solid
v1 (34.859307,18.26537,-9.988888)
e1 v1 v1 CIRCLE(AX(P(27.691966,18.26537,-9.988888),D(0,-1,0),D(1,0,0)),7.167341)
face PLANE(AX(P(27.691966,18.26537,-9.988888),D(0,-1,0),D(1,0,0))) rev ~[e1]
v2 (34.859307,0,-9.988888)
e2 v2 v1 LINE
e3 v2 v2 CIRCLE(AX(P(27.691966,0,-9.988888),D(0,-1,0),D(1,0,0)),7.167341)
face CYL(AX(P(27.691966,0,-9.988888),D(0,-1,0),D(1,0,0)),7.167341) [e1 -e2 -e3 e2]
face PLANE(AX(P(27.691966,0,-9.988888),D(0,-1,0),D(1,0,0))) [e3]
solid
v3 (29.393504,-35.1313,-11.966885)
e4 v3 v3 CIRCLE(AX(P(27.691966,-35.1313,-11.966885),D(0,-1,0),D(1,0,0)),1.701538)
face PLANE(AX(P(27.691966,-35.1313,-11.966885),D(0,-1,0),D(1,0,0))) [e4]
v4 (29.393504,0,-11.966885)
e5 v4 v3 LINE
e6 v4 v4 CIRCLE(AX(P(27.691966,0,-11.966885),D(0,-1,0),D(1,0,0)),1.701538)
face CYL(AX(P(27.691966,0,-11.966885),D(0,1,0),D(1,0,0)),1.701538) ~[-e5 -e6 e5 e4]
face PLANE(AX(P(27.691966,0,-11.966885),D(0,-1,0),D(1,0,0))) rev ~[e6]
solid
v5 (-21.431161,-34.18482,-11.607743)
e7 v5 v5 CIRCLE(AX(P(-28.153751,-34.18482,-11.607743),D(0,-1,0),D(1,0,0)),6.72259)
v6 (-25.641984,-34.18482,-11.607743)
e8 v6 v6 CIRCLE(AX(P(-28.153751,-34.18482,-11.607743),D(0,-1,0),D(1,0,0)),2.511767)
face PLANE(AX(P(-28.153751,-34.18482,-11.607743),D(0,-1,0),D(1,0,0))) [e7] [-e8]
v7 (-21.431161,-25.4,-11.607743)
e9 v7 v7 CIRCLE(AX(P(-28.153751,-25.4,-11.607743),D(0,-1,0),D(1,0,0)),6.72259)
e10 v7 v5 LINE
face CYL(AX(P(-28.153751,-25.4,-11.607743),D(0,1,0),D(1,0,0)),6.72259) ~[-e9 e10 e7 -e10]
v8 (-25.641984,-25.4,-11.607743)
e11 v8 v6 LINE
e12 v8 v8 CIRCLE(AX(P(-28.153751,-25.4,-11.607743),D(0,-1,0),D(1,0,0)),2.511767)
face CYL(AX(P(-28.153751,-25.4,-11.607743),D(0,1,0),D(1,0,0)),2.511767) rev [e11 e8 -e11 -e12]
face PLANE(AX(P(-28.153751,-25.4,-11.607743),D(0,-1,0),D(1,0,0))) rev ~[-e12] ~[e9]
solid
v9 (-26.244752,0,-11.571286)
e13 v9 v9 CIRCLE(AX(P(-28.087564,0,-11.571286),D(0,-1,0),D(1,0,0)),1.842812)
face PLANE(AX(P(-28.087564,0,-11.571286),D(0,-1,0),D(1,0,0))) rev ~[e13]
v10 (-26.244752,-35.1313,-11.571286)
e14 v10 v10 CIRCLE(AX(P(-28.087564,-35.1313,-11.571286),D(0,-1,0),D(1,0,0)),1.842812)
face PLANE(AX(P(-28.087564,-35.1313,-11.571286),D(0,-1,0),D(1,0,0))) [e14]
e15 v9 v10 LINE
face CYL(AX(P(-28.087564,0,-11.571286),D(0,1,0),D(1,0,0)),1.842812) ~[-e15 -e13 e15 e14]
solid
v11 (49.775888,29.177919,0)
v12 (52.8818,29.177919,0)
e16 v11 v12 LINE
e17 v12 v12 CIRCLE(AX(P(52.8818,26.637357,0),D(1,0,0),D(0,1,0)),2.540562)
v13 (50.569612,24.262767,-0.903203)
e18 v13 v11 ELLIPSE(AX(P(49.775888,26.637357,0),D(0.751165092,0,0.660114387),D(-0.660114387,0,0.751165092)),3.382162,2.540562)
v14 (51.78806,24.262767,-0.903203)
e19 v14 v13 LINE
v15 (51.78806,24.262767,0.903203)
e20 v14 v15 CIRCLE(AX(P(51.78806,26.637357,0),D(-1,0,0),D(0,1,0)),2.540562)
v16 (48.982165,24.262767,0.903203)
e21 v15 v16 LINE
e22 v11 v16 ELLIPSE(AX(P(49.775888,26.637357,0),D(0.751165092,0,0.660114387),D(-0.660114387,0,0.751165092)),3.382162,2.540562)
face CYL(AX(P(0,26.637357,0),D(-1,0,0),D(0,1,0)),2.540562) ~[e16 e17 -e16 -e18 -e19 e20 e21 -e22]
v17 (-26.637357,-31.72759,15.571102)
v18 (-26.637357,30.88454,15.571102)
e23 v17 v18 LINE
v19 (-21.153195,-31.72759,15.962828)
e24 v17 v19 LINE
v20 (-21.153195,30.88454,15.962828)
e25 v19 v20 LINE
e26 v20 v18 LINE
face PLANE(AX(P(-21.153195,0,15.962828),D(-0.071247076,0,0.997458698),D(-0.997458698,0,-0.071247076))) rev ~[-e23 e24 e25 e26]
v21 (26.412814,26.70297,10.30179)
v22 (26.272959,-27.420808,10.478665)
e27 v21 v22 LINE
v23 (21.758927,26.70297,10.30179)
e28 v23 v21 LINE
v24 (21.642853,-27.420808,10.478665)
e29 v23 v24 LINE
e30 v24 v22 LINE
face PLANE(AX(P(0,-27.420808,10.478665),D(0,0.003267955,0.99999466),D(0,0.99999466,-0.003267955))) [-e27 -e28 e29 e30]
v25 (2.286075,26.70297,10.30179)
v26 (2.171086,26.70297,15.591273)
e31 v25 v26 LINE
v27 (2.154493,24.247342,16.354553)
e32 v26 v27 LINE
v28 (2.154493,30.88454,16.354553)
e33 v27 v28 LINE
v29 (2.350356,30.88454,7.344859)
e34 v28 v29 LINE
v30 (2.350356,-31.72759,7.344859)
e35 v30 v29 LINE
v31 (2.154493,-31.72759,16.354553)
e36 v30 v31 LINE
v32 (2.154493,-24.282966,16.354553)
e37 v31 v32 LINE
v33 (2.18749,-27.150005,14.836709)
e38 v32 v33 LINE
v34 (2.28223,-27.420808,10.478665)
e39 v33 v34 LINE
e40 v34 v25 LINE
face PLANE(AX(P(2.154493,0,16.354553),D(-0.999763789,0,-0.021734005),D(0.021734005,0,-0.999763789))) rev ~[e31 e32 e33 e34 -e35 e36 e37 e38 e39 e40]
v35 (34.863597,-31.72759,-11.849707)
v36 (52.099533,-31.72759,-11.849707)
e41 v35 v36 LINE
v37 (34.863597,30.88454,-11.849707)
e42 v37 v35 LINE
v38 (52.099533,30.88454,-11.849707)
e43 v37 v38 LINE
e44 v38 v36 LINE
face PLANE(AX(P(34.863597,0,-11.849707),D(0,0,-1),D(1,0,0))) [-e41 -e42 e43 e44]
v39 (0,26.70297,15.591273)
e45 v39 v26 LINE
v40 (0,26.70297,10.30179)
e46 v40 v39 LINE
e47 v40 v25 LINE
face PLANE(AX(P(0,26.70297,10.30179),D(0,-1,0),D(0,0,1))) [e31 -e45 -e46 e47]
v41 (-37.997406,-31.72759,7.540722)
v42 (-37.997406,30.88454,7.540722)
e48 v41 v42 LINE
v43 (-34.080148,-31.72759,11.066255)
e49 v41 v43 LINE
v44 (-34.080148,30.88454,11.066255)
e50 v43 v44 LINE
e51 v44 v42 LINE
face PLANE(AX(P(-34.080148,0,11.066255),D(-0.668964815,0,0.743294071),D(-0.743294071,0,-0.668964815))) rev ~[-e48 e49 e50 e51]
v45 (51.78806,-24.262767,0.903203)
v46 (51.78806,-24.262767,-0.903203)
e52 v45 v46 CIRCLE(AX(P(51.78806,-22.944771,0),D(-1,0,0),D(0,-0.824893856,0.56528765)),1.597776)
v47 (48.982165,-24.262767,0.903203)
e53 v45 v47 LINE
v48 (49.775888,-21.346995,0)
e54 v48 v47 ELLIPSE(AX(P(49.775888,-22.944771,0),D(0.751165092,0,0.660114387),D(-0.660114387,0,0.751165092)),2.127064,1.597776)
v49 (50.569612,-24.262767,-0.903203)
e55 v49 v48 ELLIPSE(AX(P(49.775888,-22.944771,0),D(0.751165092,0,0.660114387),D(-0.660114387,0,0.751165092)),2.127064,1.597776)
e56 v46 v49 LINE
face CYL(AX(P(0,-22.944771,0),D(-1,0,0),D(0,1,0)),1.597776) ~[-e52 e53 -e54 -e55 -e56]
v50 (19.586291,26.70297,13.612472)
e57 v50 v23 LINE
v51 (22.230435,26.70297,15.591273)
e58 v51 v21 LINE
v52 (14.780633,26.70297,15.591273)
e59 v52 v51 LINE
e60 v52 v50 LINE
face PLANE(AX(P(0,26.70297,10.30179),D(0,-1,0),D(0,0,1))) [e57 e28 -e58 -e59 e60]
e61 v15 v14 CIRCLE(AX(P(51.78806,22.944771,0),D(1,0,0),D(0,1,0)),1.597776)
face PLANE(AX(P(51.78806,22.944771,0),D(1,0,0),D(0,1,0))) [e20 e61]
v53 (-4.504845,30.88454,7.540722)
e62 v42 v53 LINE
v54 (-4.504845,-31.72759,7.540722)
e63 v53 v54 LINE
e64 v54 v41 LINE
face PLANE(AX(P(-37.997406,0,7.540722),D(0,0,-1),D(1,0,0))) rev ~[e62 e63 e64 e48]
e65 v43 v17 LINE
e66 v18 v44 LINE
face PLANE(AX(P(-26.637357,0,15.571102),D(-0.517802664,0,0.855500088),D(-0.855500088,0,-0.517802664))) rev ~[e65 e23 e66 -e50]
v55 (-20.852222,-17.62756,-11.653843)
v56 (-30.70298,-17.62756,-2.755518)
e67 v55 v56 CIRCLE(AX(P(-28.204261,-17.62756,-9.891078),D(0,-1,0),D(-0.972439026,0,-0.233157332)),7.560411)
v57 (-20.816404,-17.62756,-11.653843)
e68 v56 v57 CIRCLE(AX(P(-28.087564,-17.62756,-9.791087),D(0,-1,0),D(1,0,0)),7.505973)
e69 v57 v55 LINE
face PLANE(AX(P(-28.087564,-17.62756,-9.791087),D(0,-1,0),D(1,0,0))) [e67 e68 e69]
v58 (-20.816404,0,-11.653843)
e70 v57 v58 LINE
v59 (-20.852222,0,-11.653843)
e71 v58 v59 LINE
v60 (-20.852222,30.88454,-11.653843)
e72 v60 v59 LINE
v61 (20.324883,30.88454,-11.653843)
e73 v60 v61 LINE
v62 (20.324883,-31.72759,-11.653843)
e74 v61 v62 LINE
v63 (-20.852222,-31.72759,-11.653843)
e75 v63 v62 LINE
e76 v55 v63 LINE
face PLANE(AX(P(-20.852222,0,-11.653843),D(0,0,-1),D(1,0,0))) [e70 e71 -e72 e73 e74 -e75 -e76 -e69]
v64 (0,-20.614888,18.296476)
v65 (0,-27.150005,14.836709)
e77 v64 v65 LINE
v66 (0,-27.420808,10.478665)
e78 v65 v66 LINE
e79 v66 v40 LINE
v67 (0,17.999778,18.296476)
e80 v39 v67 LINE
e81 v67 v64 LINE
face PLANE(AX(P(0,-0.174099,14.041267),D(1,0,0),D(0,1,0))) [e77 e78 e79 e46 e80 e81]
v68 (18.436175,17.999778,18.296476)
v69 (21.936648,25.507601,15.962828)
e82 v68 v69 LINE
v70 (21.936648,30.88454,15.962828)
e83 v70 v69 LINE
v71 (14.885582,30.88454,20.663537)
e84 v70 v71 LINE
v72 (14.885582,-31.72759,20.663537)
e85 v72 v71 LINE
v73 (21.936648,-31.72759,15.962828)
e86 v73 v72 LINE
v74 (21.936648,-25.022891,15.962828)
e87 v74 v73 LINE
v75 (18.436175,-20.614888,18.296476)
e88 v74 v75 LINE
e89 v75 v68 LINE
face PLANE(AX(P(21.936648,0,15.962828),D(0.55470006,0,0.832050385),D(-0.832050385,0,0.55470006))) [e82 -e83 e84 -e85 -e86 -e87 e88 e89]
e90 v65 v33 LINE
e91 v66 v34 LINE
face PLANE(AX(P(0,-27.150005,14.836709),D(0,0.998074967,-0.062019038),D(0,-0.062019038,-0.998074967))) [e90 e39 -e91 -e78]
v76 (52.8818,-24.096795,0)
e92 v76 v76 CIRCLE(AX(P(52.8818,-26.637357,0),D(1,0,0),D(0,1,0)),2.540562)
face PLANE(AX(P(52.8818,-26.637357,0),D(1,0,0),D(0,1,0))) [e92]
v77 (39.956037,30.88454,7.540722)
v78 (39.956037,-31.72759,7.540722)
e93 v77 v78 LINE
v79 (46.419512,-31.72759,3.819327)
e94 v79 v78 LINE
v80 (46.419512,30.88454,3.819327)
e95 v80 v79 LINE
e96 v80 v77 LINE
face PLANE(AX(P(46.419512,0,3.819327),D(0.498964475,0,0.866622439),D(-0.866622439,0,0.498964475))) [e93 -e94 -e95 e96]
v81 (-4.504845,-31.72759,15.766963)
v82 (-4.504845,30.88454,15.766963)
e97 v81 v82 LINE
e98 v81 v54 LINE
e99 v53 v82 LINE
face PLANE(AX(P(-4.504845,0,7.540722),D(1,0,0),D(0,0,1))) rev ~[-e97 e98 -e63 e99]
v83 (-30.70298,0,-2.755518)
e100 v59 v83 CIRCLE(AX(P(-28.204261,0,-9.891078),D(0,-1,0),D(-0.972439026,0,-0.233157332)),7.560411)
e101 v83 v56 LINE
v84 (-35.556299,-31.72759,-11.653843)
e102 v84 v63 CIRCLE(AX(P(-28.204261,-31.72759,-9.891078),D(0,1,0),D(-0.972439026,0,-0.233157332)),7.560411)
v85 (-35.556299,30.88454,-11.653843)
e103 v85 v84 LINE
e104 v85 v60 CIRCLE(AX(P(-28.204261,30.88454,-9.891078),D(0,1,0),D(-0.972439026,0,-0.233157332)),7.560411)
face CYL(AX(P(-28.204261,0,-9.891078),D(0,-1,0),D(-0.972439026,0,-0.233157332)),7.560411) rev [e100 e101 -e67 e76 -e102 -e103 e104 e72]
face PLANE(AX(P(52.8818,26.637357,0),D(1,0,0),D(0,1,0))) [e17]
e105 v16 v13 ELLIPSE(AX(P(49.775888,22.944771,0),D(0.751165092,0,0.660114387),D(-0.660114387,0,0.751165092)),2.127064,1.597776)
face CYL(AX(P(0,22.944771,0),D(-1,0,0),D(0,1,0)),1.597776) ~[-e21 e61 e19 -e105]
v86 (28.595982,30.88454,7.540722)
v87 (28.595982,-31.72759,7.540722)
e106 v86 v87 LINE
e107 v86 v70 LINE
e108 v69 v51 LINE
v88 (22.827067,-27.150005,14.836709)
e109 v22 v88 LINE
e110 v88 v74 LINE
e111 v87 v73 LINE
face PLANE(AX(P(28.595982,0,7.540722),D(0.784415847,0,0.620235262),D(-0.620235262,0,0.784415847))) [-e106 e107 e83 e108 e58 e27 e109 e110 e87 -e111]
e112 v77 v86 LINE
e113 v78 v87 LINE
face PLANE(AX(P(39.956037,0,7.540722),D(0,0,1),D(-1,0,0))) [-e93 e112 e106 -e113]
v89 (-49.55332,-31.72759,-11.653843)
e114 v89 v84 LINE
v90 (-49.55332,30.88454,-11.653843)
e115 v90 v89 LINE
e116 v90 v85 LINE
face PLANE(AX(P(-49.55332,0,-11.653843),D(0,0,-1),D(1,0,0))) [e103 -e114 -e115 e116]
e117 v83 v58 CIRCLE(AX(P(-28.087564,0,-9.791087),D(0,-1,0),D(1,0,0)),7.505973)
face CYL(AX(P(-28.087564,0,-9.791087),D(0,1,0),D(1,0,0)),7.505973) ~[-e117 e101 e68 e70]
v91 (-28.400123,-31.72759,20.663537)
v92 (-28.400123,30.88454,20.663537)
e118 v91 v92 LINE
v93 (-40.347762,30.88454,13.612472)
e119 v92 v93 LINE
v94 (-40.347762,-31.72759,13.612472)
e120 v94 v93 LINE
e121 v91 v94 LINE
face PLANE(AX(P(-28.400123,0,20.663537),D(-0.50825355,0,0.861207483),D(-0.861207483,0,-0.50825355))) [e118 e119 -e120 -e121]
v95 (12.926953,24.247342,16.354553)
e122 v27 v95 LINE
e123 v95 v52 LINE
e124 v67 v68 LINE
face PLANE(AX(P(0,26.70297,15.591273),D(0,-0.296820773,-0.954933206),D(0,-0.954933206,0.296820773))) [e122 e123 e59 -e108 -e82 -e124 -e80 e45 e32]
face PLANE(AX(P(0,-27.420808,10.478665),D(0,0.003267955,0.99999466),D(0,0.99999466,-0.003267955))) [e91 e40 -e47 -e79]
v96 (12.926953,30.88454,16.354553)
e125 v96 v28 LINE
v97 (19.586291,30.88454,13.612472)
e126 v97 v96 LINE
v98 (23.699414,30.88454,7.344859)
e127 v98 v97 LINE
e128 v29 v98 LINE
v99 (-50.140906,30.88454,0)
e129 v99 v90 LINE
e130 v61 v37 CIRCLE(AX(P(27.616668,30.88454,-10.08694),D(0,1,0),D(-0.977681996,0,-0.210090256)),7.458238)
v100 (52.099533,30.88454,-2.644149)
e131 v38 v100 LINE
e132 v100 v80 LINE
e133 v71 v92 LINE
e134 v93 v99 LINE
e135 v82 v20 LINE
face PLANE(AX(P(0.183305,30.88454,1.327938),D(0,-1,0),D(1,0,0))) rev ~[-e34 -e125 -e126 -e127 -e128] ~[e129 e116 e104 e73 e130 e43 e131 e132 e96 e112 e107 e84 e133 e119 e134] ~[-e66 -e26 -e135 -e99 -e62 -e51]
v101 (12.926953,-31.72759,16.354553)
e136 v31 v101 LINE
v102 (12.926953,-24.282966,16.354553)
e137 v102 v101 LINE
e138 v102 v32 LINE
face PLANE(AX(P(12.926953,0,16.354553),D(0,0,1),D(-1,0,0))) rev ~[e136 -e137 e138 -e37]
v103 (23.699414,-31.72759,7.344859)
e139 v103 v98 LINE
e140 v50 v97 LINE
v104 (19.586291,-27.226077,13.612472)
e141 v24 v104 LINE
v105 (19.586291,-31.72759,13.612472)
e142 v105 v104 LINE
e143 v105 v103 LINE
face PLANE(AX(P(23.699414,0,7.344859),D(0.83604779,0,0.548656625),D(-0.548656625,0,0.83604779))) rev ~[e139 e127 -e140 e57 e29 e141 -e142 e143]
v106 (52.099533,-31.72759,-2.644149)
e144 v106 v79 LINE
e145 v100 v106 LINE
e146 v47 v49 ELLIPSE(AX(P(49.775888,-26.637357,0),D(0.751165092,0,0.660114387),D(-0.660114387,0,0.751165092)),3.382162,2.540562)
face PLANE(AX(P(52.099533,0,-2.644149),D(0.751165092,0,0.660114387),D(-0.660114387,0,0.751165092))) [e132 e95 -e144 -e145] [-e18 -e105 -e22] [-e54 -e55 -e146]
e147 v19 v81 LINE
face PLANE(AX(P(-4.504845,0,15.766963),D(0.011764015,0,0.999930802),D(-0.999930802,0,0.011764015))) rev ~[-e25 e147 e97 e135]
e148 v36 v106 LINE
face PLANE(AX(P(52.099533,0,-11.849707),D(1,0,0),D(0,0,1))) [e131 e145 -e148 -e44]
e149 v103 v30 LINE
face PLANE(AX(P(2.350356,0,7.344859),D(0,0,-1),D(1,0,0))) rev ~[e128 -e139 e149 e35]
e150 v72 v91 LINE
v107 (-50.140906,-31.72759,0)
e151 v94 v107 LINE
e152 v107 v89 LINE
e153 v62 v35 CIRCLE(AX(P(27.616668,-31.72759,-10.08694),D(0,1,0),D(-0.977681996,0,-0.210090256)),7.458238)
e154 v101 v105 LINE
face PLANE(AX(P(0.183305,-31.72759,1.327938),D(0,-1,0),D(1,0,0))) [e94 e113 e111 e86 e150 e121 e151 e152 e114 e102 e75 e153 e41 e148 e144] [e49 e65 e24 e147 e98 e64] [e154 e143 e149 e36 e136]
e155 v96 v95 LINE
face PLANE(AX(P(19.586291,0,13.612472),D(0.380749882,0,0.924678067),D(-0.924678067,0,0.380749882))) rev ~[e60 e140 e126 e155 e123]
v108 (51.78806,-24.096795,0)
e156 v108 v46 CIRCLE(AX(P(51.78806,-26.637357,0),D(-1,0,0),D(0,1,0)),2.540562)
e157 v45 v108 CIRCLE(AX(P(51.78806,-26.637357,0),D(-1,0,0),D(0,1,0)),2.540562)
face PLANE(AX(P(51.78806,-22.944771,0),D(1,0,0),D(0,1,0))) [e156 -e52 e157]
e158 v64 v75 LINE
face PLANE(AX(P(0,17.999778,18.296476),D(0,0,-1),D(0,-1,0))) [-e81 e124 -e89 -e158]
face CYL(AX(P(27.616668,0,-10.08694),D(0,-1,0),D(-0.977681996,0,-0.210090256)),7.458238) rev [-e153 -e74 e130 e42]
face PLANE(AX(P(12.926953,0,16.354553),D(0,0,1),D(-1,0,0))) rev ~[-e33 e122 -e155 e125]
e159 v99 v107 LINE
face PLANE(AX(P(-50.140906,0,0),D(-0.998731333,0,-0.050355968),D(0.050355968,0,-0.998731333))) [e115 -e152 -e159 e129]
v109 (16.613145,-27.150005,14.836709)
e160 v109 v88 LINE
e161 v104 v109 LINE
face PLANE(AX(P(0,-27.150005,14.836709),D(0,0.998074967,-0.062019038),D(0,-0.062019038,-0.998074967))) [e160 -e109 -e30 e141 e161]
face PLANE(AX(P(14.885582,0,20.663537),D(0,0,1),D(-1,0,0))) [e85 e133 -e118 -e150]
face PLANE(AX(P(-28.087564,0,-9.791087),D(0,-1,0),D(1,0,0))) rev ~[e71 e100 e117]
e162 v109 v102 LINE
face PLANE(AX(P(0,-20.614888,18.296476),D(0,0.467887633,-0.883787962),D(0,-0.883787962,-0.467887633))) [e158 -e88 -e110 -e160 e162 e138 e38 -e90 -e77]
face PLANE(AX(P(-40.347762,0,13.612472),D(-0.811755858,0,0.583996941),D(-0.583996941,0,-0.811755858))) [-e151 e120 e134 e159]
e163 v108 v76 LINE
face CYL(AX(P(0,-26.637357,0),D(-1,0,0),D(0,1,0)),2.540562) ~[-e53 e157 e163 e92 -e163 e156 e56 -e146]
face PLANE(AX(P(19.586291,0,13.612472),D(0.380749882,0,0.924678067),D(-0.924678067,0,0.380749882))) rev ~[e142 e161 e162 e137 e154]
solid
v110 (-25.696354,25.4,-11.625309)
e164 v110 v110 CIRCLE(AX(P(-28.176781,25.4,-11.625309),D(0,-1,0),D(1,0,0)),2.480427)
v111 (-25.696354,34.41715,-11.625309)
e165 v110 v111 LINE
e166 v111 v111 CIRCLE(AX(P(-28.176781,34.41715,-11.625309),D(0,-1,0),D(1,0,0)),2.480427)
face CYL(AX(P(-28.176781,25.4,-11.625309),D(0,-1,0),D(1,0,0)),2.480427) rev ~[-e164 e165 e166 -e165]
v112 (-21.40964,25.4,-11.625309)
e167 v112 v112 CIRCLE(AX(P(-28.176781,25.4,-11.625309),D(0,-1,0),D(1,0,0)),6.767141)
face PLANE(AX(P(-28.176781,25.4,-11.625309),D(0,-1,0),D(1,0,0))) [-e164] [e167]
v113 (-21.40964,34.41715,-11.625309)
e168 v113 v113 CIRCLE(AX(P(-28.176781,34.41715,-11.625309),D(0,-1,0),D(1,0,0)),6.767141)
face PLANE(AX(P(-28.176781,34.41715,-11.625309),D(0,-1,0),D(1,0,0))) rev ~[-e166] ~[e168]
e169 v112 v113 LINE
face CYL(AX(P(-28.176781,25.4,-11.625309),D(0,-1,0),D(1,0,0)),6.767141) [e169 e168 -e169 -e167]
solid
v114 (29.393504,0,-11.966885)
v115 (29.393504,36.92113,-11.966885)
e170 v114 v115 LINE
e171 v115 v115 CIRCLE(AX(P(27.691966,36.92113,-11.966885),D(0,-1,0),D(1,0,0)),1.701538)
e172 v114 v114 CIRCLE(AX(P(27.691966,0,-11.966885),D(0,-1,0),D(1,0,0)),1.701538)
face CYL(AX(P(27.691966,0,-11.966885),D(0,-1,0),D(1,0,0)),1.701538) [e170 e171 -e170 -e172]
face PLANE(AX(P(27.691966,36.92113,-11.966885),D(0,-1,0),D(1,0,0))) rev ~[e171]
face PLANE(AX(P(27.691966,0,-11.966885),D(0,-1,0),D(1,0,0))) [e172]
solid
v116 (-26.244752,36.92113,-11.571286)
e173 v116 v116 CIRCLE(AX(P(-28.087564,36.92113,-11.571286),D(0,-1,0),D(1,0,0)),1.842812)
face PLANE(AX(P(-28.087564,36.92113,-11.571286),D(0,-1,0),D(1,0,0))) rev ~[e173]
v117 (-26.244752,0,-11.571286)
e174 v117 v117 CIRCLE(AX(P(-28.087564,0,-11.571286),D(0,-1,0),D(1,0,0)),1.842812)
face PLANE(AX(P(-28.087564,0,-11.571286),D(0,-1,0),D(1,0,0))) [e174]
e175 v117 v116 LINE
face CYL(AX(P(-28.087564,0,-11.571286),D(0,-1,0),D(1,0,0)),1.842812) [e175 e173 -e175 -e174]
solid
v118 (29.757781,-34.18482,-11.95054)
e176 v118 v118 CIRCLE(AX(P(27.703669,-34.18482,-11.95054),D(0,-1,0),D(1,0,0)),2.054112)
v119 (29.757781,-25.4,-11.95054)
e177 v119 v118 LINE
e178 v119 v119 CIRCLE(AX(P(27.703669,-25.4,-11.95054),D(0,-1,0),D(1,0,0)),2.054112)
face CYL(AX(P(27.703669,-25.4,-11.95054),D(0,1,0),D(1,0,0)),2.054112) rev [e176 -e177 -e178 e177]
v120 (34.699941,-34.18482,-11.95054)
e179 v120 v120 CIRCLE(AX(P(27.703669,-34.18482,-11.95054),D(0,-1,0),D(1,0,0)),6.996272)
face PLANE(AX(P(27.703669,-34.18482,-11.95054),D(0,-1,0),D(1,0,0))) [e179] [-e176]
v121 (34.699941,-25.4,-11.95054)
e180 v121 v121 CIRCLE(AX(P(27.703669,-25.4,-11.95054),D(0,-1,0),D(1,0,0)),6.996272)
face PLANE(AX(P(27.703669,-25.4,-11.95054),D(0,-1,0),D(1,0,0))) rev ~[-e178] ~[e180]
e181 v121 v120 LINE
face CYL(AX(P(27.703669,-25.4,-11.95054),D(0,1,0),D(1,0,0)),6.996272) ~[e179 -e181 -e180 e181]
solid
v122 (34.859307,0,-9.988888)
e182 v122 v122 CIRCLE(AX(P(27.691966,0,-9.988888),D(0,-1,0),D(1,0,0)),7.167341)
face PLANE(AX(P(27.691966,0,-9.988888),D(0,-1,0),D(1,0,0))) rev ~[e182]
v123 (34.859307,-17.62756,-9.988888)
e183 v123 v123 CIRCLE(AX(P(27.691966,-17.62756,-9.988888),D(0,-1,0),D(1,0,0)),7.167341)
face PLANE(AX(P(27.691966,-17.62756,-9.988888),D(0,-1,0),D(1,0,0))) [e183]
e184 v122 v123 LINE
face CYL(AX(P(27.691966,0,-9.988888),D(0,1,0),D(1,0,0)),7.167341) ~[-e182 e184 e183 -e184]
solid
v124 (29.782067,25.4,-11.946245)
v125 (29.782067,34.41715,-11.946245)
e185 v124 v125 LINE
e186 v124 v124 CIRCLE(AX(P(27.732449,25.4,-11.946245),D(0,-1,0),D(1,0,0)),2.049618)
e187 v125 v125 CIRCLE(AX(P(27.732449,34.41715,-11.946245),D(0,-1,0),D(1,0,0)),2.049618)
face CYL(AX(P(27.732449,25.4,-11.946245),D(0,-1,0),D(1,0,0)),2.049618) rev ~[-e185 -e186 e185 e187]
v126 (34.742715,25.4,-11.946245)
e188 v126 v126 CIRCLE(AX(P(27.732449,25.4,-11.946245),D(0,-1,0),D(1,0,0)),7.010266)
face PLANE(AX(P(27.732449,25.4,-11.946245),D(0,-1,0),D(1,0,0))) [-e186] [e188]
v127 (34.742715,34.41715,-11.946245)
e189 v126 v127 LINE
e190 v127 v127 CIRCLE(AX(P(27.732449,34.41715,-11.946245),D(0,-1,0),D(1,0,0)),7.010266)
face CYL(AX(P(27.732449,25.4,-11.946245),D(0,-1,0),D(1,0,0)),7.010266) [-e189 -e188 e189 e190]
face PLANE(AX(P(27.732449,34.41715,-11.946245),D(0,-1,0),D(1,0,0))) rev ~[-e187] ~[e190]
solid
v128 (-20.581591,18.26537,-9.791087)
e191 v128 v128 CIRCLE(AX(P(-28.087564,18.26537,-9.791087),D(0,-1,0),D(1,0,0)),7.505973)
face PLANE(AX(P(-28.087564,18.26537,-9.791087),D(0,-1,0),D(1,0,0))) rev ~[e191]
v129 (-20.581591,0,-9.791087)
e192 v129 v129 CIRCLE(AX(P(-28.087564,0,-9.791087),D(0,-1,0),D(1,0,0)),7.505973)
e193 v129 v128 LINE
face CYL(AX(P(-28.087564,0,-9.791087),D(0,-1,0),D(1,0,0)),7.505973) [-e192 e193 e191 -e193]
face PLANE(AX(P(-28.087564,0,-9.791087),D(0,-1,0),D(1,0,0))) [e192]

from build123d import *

# Parameters (mm, degrees)
F1_DEPTH  = 31.72759
F2_DEPTH  = 30.88454
F4_DEPTH  = 105.29166
F5_DEPTH  = 57.13206
F7_DEPTH  = 126.57516
F8_R      = 2.540562
F9_DEPTH  = 52.8818
F10_R     = 1.597776
F11_DEPTH = 51.78806
F12_R     = 7.167341
F12_R_2   = 7.505973
F13_DEPTH = 17.62756
F14_DEPTH = 18.26537
F15_R     = 1.701538
F15_R_2   = 1.842812
F16_DEPTH = 35.1313
F17_DEPTH = 36.92113
F20_R     = 6.72259
F20_R_2   = 2.511767
F20_R_3   = 6.996272
F20_R_4   = 2.054112
F21_DEPTH = 8.78482
F22_R     = 7.010266
F22_R_2   = 2.049618
F22_R_3   = 6.767141
F22_R_4   = 2.480427
F23_DEPTH = 9.01715


with BuildPart() as f1:
    # F0 (on Front) → F1 (new body)
    with BuildSketch(Plane.XZ):
        with BuildLine():
            Line((-40.347762, 13.612472), (-50.140906, 0))
            Line((-50.140906, 0), (-49.55332, -11.653843))
            Line((-49.55332, -11.653843), (-35.556299, -11.653843))
            ThreePointArc((-35.556299, -11.653843), (-28.20426, -2.330667), (-20.852222, -11.653843))
            Line((-20.852222, -11.653843), (20.324883, -11.653843))
            ThreePointArc((20.324883, -11.653843), (27.717136, -2.629378), (34.863597, -11.849707))
            Line((34.863597, -11.849707), (52.099533, -11.849707))
            Line((52.099533, -11.849707), (52.099533, -2.644149))
            Line((52.099533, -2.644149), (46.419512, 3.819327))
            Line((46.419512, 3.819327), (39.956037, 7.540722))
            Line((39.956037, 7.540722), (28.595982, 7.540722))
            Line((28.595982, 7.540722), (21.936648, 15.962828))
            Line((21.936648, 15.962828), (14.885582, 20.663537))
            Line((14.885582, 20.663537), (-28.400123, 20.663537))
            Line((-28.400123, 20.663537), (-40.347762, 13.612472))
        make_face()
    extrude(amount=F1_DEPTH)

    # F0 (on Front) → F2 (join)
    with BuildSketch(Plane.XZ):
        with BuildLine():
            Line((-40.347762, 13.612472), (-50.140906, 0))
            Line((-50.140906, 0), (-49.55332, -11.653843))
            Line((-49.55332, -11.653843), (-35.556299, -11.653843))
            ThreePointArc((-35.556299, -11.653843), (-28.20426, -2.330667), (-20.852222, -11.653843))
            Line((-20.852222, -11.653843), (20.324883, -11.653843))
            ThreePointArc((20.324883, -11.653843), (27.717136, -2.629378), (34.863597, -11.849707))
            Line((34.863597, -11.849707), (52.099533, -11.849707))
            Line((52.099533, -11.849707), (52.099533, -2.644149))
            Line((52.099533, -2.644149), (46.419512, 3.819327))
            Line((46.419512, 3.819327), (39.956037, 7.540722))
            Line((39.956037, 7.540722), (28.595982, 7.540722))
            Line((28.595982, 7.540722), (21.936648, 15.962828))
            Line((21.936648, 15.962828), (14.885582, 20.663537))
            Line((14.885582, 20.663537), (-28.400123, 20.663537))
            Line((-28.400123, 20.663537), (-40.347762, 13.612472))
        make_face()
    extrude(amount=-F2_DEPTH)

    # F3 (on Front) → F4 (cut)
    with BuildSketch(Plane.XZ):
        Polygon((12.926953, 16.354553), (2.154493, 16.354553), (2.350356, 7.344859), (23.699414, 7.344859), (19.586291, 13.612472), align=None)
        Polygon((-4.504845, 7.540722), (-4.504845, 15.766963), (-21.153195, 15.962828), (-26.637357, 15.571102), (-34.080148, 11.066255), (-37.997406, 7.540722), (-21.153195, 7.540722), align=None)
    extrude(amount=F4_DEPTH, mode=Mode.SUBTRACT)

    # F3 (on Front) → F5 (cut)
    with BuildSketch(Plane.XZ):
        Polygon((12.926953, 16.354553), (2.154493, 16.354553), (2.350356, 7.344859), (23.699414, 7.344859), (19.586291, 13.612472), align=None)
        Polygon((-4.504845, 7.540722), (-4.504845, 15.766963), (-21.153195, 15.962828), (-26.637357, 15.571102), (-34.080148, 11.066255), (-37.997406, 7.540722), (-21.153195, 7.540722), align=None)
    extrude(amount=-F5_DEPTH, mode=Mode.SUBTRACT)

    # F6 (on Right) → F7 (cut)
    with BuildSketch(Plane.YZ):
        Polygon((17.999778, 18.296476), (-20.614888, 18.296476), (-27.150005, 14.836709), (-27.420808, 10.478665), (26.70297, 10.30179), (26.70297, 15.591273), align=None)
    extrude(amount=F7_DEPTH, mode=Mode.SUBTRACT)

    # F8 (on Right) → F9 (join)
    with BuildSketch(Plane.YZ):
        with Locations((-26.637357, 0)):
            Circle(F8_R)
        with Locations((26.637357, 0)):
            Circle(F8_R)
    extrude(amount=F9_DEPTH)

    # F10 (on Right) → F11 (join)
    with BuildSketch(Plane.YZ):
        with Locations((-22.944771, 0)):
            Circle(F10_R)
        with Locations((22.944771, 0)):
            Circle(F10_R)
    extrude(amount=F11_DEPTH)

    # F12 (on Front) → F13 (join)
    with BuildSketch(Plane.XZ):
        with Locations((27.691966, -9.988888)):
            Circle(F12_R)
        with Locations((-28.087564, -9.791087)):
            Circle(F12_R_2)
    extrude(amount=F13_DEPTH)


with BuildPart() as f14:
    # F12 (on Front) → F14 (new body)
    with BuildSketch(Plane.XZ):
        with Locations((27.691966, -9.988888)):
            Circle(F12_R)
        with Locations((-28.087564, -9.791087)):
            Circle(F12_R_2)
    extrude(amount=-F14_DEPTH)


with BuildPart() as f16:
    # F15 (on Front) → F16 (new body)
    with BuildSketch(Plane.XZ):
        with Locations((27.691966, -11.966885)):
            Circle(F15_R)
        with Locations((-28.087564, -11.571286)):
            Circle(F15_R_2)
    extrude(amount=F16_DEPTH)


with BuildPart() as f17:
    # F15 (on Front) → F17 (new body)
    with BuildSketch(Plane.XZ):
        with Locations((27.691966, -11.966885)):
            Circle(F15_R)
        with Locations((-28.087564, -11.571286)):
            Circle(F15_R_2)
    extrude(amount=-F17_DEPTH)


with BuildPart() as f21:
    # F20 (on offset) → F21 (new body)
    with BuildSketch(Plane.XZ.offset(25.4)):
        with Locations((-28.153751, -11.607743)):
            Circle(F20_R)
        with Locations((-28.153751, -11.607743)):
            Circle(F20_R_2, mode=Mode.SUBTRACT)
        with Locations((27.703669, -11.95054)):
            Circle(F20_R_3)
        with Locations((27.703669, -11.95054)):
            Circle(F20_R_4, mode=Mode.SUBTRACT)
    extrude(amount=F21_DEPTH)


with BuildPart() as f23:
    # F22 (on offset) → F23 (new body)
    with BuildSketch(Plane.XZ.offset(-25.4)):
        with Locations((27.732449, -11.946245)):
            Circle(F22_R)
        with Locations((27.732449, -11.946245)):
            Circle(F22_R_2, mode=Mode.SUBTRACT)
        with Locations((-28.176781, -11.625309)):
            Circle(F22_R_3)
        with Locations((-28.176781, -11.625309)):
            Circle(F22_R_4, mode=Mode.SUBTRACT)
    extrude(amount=-F23_DEPTH)


solid = Compound([f1.part, f14.part, f16.part, f17.part, f21.part, f23.part])
